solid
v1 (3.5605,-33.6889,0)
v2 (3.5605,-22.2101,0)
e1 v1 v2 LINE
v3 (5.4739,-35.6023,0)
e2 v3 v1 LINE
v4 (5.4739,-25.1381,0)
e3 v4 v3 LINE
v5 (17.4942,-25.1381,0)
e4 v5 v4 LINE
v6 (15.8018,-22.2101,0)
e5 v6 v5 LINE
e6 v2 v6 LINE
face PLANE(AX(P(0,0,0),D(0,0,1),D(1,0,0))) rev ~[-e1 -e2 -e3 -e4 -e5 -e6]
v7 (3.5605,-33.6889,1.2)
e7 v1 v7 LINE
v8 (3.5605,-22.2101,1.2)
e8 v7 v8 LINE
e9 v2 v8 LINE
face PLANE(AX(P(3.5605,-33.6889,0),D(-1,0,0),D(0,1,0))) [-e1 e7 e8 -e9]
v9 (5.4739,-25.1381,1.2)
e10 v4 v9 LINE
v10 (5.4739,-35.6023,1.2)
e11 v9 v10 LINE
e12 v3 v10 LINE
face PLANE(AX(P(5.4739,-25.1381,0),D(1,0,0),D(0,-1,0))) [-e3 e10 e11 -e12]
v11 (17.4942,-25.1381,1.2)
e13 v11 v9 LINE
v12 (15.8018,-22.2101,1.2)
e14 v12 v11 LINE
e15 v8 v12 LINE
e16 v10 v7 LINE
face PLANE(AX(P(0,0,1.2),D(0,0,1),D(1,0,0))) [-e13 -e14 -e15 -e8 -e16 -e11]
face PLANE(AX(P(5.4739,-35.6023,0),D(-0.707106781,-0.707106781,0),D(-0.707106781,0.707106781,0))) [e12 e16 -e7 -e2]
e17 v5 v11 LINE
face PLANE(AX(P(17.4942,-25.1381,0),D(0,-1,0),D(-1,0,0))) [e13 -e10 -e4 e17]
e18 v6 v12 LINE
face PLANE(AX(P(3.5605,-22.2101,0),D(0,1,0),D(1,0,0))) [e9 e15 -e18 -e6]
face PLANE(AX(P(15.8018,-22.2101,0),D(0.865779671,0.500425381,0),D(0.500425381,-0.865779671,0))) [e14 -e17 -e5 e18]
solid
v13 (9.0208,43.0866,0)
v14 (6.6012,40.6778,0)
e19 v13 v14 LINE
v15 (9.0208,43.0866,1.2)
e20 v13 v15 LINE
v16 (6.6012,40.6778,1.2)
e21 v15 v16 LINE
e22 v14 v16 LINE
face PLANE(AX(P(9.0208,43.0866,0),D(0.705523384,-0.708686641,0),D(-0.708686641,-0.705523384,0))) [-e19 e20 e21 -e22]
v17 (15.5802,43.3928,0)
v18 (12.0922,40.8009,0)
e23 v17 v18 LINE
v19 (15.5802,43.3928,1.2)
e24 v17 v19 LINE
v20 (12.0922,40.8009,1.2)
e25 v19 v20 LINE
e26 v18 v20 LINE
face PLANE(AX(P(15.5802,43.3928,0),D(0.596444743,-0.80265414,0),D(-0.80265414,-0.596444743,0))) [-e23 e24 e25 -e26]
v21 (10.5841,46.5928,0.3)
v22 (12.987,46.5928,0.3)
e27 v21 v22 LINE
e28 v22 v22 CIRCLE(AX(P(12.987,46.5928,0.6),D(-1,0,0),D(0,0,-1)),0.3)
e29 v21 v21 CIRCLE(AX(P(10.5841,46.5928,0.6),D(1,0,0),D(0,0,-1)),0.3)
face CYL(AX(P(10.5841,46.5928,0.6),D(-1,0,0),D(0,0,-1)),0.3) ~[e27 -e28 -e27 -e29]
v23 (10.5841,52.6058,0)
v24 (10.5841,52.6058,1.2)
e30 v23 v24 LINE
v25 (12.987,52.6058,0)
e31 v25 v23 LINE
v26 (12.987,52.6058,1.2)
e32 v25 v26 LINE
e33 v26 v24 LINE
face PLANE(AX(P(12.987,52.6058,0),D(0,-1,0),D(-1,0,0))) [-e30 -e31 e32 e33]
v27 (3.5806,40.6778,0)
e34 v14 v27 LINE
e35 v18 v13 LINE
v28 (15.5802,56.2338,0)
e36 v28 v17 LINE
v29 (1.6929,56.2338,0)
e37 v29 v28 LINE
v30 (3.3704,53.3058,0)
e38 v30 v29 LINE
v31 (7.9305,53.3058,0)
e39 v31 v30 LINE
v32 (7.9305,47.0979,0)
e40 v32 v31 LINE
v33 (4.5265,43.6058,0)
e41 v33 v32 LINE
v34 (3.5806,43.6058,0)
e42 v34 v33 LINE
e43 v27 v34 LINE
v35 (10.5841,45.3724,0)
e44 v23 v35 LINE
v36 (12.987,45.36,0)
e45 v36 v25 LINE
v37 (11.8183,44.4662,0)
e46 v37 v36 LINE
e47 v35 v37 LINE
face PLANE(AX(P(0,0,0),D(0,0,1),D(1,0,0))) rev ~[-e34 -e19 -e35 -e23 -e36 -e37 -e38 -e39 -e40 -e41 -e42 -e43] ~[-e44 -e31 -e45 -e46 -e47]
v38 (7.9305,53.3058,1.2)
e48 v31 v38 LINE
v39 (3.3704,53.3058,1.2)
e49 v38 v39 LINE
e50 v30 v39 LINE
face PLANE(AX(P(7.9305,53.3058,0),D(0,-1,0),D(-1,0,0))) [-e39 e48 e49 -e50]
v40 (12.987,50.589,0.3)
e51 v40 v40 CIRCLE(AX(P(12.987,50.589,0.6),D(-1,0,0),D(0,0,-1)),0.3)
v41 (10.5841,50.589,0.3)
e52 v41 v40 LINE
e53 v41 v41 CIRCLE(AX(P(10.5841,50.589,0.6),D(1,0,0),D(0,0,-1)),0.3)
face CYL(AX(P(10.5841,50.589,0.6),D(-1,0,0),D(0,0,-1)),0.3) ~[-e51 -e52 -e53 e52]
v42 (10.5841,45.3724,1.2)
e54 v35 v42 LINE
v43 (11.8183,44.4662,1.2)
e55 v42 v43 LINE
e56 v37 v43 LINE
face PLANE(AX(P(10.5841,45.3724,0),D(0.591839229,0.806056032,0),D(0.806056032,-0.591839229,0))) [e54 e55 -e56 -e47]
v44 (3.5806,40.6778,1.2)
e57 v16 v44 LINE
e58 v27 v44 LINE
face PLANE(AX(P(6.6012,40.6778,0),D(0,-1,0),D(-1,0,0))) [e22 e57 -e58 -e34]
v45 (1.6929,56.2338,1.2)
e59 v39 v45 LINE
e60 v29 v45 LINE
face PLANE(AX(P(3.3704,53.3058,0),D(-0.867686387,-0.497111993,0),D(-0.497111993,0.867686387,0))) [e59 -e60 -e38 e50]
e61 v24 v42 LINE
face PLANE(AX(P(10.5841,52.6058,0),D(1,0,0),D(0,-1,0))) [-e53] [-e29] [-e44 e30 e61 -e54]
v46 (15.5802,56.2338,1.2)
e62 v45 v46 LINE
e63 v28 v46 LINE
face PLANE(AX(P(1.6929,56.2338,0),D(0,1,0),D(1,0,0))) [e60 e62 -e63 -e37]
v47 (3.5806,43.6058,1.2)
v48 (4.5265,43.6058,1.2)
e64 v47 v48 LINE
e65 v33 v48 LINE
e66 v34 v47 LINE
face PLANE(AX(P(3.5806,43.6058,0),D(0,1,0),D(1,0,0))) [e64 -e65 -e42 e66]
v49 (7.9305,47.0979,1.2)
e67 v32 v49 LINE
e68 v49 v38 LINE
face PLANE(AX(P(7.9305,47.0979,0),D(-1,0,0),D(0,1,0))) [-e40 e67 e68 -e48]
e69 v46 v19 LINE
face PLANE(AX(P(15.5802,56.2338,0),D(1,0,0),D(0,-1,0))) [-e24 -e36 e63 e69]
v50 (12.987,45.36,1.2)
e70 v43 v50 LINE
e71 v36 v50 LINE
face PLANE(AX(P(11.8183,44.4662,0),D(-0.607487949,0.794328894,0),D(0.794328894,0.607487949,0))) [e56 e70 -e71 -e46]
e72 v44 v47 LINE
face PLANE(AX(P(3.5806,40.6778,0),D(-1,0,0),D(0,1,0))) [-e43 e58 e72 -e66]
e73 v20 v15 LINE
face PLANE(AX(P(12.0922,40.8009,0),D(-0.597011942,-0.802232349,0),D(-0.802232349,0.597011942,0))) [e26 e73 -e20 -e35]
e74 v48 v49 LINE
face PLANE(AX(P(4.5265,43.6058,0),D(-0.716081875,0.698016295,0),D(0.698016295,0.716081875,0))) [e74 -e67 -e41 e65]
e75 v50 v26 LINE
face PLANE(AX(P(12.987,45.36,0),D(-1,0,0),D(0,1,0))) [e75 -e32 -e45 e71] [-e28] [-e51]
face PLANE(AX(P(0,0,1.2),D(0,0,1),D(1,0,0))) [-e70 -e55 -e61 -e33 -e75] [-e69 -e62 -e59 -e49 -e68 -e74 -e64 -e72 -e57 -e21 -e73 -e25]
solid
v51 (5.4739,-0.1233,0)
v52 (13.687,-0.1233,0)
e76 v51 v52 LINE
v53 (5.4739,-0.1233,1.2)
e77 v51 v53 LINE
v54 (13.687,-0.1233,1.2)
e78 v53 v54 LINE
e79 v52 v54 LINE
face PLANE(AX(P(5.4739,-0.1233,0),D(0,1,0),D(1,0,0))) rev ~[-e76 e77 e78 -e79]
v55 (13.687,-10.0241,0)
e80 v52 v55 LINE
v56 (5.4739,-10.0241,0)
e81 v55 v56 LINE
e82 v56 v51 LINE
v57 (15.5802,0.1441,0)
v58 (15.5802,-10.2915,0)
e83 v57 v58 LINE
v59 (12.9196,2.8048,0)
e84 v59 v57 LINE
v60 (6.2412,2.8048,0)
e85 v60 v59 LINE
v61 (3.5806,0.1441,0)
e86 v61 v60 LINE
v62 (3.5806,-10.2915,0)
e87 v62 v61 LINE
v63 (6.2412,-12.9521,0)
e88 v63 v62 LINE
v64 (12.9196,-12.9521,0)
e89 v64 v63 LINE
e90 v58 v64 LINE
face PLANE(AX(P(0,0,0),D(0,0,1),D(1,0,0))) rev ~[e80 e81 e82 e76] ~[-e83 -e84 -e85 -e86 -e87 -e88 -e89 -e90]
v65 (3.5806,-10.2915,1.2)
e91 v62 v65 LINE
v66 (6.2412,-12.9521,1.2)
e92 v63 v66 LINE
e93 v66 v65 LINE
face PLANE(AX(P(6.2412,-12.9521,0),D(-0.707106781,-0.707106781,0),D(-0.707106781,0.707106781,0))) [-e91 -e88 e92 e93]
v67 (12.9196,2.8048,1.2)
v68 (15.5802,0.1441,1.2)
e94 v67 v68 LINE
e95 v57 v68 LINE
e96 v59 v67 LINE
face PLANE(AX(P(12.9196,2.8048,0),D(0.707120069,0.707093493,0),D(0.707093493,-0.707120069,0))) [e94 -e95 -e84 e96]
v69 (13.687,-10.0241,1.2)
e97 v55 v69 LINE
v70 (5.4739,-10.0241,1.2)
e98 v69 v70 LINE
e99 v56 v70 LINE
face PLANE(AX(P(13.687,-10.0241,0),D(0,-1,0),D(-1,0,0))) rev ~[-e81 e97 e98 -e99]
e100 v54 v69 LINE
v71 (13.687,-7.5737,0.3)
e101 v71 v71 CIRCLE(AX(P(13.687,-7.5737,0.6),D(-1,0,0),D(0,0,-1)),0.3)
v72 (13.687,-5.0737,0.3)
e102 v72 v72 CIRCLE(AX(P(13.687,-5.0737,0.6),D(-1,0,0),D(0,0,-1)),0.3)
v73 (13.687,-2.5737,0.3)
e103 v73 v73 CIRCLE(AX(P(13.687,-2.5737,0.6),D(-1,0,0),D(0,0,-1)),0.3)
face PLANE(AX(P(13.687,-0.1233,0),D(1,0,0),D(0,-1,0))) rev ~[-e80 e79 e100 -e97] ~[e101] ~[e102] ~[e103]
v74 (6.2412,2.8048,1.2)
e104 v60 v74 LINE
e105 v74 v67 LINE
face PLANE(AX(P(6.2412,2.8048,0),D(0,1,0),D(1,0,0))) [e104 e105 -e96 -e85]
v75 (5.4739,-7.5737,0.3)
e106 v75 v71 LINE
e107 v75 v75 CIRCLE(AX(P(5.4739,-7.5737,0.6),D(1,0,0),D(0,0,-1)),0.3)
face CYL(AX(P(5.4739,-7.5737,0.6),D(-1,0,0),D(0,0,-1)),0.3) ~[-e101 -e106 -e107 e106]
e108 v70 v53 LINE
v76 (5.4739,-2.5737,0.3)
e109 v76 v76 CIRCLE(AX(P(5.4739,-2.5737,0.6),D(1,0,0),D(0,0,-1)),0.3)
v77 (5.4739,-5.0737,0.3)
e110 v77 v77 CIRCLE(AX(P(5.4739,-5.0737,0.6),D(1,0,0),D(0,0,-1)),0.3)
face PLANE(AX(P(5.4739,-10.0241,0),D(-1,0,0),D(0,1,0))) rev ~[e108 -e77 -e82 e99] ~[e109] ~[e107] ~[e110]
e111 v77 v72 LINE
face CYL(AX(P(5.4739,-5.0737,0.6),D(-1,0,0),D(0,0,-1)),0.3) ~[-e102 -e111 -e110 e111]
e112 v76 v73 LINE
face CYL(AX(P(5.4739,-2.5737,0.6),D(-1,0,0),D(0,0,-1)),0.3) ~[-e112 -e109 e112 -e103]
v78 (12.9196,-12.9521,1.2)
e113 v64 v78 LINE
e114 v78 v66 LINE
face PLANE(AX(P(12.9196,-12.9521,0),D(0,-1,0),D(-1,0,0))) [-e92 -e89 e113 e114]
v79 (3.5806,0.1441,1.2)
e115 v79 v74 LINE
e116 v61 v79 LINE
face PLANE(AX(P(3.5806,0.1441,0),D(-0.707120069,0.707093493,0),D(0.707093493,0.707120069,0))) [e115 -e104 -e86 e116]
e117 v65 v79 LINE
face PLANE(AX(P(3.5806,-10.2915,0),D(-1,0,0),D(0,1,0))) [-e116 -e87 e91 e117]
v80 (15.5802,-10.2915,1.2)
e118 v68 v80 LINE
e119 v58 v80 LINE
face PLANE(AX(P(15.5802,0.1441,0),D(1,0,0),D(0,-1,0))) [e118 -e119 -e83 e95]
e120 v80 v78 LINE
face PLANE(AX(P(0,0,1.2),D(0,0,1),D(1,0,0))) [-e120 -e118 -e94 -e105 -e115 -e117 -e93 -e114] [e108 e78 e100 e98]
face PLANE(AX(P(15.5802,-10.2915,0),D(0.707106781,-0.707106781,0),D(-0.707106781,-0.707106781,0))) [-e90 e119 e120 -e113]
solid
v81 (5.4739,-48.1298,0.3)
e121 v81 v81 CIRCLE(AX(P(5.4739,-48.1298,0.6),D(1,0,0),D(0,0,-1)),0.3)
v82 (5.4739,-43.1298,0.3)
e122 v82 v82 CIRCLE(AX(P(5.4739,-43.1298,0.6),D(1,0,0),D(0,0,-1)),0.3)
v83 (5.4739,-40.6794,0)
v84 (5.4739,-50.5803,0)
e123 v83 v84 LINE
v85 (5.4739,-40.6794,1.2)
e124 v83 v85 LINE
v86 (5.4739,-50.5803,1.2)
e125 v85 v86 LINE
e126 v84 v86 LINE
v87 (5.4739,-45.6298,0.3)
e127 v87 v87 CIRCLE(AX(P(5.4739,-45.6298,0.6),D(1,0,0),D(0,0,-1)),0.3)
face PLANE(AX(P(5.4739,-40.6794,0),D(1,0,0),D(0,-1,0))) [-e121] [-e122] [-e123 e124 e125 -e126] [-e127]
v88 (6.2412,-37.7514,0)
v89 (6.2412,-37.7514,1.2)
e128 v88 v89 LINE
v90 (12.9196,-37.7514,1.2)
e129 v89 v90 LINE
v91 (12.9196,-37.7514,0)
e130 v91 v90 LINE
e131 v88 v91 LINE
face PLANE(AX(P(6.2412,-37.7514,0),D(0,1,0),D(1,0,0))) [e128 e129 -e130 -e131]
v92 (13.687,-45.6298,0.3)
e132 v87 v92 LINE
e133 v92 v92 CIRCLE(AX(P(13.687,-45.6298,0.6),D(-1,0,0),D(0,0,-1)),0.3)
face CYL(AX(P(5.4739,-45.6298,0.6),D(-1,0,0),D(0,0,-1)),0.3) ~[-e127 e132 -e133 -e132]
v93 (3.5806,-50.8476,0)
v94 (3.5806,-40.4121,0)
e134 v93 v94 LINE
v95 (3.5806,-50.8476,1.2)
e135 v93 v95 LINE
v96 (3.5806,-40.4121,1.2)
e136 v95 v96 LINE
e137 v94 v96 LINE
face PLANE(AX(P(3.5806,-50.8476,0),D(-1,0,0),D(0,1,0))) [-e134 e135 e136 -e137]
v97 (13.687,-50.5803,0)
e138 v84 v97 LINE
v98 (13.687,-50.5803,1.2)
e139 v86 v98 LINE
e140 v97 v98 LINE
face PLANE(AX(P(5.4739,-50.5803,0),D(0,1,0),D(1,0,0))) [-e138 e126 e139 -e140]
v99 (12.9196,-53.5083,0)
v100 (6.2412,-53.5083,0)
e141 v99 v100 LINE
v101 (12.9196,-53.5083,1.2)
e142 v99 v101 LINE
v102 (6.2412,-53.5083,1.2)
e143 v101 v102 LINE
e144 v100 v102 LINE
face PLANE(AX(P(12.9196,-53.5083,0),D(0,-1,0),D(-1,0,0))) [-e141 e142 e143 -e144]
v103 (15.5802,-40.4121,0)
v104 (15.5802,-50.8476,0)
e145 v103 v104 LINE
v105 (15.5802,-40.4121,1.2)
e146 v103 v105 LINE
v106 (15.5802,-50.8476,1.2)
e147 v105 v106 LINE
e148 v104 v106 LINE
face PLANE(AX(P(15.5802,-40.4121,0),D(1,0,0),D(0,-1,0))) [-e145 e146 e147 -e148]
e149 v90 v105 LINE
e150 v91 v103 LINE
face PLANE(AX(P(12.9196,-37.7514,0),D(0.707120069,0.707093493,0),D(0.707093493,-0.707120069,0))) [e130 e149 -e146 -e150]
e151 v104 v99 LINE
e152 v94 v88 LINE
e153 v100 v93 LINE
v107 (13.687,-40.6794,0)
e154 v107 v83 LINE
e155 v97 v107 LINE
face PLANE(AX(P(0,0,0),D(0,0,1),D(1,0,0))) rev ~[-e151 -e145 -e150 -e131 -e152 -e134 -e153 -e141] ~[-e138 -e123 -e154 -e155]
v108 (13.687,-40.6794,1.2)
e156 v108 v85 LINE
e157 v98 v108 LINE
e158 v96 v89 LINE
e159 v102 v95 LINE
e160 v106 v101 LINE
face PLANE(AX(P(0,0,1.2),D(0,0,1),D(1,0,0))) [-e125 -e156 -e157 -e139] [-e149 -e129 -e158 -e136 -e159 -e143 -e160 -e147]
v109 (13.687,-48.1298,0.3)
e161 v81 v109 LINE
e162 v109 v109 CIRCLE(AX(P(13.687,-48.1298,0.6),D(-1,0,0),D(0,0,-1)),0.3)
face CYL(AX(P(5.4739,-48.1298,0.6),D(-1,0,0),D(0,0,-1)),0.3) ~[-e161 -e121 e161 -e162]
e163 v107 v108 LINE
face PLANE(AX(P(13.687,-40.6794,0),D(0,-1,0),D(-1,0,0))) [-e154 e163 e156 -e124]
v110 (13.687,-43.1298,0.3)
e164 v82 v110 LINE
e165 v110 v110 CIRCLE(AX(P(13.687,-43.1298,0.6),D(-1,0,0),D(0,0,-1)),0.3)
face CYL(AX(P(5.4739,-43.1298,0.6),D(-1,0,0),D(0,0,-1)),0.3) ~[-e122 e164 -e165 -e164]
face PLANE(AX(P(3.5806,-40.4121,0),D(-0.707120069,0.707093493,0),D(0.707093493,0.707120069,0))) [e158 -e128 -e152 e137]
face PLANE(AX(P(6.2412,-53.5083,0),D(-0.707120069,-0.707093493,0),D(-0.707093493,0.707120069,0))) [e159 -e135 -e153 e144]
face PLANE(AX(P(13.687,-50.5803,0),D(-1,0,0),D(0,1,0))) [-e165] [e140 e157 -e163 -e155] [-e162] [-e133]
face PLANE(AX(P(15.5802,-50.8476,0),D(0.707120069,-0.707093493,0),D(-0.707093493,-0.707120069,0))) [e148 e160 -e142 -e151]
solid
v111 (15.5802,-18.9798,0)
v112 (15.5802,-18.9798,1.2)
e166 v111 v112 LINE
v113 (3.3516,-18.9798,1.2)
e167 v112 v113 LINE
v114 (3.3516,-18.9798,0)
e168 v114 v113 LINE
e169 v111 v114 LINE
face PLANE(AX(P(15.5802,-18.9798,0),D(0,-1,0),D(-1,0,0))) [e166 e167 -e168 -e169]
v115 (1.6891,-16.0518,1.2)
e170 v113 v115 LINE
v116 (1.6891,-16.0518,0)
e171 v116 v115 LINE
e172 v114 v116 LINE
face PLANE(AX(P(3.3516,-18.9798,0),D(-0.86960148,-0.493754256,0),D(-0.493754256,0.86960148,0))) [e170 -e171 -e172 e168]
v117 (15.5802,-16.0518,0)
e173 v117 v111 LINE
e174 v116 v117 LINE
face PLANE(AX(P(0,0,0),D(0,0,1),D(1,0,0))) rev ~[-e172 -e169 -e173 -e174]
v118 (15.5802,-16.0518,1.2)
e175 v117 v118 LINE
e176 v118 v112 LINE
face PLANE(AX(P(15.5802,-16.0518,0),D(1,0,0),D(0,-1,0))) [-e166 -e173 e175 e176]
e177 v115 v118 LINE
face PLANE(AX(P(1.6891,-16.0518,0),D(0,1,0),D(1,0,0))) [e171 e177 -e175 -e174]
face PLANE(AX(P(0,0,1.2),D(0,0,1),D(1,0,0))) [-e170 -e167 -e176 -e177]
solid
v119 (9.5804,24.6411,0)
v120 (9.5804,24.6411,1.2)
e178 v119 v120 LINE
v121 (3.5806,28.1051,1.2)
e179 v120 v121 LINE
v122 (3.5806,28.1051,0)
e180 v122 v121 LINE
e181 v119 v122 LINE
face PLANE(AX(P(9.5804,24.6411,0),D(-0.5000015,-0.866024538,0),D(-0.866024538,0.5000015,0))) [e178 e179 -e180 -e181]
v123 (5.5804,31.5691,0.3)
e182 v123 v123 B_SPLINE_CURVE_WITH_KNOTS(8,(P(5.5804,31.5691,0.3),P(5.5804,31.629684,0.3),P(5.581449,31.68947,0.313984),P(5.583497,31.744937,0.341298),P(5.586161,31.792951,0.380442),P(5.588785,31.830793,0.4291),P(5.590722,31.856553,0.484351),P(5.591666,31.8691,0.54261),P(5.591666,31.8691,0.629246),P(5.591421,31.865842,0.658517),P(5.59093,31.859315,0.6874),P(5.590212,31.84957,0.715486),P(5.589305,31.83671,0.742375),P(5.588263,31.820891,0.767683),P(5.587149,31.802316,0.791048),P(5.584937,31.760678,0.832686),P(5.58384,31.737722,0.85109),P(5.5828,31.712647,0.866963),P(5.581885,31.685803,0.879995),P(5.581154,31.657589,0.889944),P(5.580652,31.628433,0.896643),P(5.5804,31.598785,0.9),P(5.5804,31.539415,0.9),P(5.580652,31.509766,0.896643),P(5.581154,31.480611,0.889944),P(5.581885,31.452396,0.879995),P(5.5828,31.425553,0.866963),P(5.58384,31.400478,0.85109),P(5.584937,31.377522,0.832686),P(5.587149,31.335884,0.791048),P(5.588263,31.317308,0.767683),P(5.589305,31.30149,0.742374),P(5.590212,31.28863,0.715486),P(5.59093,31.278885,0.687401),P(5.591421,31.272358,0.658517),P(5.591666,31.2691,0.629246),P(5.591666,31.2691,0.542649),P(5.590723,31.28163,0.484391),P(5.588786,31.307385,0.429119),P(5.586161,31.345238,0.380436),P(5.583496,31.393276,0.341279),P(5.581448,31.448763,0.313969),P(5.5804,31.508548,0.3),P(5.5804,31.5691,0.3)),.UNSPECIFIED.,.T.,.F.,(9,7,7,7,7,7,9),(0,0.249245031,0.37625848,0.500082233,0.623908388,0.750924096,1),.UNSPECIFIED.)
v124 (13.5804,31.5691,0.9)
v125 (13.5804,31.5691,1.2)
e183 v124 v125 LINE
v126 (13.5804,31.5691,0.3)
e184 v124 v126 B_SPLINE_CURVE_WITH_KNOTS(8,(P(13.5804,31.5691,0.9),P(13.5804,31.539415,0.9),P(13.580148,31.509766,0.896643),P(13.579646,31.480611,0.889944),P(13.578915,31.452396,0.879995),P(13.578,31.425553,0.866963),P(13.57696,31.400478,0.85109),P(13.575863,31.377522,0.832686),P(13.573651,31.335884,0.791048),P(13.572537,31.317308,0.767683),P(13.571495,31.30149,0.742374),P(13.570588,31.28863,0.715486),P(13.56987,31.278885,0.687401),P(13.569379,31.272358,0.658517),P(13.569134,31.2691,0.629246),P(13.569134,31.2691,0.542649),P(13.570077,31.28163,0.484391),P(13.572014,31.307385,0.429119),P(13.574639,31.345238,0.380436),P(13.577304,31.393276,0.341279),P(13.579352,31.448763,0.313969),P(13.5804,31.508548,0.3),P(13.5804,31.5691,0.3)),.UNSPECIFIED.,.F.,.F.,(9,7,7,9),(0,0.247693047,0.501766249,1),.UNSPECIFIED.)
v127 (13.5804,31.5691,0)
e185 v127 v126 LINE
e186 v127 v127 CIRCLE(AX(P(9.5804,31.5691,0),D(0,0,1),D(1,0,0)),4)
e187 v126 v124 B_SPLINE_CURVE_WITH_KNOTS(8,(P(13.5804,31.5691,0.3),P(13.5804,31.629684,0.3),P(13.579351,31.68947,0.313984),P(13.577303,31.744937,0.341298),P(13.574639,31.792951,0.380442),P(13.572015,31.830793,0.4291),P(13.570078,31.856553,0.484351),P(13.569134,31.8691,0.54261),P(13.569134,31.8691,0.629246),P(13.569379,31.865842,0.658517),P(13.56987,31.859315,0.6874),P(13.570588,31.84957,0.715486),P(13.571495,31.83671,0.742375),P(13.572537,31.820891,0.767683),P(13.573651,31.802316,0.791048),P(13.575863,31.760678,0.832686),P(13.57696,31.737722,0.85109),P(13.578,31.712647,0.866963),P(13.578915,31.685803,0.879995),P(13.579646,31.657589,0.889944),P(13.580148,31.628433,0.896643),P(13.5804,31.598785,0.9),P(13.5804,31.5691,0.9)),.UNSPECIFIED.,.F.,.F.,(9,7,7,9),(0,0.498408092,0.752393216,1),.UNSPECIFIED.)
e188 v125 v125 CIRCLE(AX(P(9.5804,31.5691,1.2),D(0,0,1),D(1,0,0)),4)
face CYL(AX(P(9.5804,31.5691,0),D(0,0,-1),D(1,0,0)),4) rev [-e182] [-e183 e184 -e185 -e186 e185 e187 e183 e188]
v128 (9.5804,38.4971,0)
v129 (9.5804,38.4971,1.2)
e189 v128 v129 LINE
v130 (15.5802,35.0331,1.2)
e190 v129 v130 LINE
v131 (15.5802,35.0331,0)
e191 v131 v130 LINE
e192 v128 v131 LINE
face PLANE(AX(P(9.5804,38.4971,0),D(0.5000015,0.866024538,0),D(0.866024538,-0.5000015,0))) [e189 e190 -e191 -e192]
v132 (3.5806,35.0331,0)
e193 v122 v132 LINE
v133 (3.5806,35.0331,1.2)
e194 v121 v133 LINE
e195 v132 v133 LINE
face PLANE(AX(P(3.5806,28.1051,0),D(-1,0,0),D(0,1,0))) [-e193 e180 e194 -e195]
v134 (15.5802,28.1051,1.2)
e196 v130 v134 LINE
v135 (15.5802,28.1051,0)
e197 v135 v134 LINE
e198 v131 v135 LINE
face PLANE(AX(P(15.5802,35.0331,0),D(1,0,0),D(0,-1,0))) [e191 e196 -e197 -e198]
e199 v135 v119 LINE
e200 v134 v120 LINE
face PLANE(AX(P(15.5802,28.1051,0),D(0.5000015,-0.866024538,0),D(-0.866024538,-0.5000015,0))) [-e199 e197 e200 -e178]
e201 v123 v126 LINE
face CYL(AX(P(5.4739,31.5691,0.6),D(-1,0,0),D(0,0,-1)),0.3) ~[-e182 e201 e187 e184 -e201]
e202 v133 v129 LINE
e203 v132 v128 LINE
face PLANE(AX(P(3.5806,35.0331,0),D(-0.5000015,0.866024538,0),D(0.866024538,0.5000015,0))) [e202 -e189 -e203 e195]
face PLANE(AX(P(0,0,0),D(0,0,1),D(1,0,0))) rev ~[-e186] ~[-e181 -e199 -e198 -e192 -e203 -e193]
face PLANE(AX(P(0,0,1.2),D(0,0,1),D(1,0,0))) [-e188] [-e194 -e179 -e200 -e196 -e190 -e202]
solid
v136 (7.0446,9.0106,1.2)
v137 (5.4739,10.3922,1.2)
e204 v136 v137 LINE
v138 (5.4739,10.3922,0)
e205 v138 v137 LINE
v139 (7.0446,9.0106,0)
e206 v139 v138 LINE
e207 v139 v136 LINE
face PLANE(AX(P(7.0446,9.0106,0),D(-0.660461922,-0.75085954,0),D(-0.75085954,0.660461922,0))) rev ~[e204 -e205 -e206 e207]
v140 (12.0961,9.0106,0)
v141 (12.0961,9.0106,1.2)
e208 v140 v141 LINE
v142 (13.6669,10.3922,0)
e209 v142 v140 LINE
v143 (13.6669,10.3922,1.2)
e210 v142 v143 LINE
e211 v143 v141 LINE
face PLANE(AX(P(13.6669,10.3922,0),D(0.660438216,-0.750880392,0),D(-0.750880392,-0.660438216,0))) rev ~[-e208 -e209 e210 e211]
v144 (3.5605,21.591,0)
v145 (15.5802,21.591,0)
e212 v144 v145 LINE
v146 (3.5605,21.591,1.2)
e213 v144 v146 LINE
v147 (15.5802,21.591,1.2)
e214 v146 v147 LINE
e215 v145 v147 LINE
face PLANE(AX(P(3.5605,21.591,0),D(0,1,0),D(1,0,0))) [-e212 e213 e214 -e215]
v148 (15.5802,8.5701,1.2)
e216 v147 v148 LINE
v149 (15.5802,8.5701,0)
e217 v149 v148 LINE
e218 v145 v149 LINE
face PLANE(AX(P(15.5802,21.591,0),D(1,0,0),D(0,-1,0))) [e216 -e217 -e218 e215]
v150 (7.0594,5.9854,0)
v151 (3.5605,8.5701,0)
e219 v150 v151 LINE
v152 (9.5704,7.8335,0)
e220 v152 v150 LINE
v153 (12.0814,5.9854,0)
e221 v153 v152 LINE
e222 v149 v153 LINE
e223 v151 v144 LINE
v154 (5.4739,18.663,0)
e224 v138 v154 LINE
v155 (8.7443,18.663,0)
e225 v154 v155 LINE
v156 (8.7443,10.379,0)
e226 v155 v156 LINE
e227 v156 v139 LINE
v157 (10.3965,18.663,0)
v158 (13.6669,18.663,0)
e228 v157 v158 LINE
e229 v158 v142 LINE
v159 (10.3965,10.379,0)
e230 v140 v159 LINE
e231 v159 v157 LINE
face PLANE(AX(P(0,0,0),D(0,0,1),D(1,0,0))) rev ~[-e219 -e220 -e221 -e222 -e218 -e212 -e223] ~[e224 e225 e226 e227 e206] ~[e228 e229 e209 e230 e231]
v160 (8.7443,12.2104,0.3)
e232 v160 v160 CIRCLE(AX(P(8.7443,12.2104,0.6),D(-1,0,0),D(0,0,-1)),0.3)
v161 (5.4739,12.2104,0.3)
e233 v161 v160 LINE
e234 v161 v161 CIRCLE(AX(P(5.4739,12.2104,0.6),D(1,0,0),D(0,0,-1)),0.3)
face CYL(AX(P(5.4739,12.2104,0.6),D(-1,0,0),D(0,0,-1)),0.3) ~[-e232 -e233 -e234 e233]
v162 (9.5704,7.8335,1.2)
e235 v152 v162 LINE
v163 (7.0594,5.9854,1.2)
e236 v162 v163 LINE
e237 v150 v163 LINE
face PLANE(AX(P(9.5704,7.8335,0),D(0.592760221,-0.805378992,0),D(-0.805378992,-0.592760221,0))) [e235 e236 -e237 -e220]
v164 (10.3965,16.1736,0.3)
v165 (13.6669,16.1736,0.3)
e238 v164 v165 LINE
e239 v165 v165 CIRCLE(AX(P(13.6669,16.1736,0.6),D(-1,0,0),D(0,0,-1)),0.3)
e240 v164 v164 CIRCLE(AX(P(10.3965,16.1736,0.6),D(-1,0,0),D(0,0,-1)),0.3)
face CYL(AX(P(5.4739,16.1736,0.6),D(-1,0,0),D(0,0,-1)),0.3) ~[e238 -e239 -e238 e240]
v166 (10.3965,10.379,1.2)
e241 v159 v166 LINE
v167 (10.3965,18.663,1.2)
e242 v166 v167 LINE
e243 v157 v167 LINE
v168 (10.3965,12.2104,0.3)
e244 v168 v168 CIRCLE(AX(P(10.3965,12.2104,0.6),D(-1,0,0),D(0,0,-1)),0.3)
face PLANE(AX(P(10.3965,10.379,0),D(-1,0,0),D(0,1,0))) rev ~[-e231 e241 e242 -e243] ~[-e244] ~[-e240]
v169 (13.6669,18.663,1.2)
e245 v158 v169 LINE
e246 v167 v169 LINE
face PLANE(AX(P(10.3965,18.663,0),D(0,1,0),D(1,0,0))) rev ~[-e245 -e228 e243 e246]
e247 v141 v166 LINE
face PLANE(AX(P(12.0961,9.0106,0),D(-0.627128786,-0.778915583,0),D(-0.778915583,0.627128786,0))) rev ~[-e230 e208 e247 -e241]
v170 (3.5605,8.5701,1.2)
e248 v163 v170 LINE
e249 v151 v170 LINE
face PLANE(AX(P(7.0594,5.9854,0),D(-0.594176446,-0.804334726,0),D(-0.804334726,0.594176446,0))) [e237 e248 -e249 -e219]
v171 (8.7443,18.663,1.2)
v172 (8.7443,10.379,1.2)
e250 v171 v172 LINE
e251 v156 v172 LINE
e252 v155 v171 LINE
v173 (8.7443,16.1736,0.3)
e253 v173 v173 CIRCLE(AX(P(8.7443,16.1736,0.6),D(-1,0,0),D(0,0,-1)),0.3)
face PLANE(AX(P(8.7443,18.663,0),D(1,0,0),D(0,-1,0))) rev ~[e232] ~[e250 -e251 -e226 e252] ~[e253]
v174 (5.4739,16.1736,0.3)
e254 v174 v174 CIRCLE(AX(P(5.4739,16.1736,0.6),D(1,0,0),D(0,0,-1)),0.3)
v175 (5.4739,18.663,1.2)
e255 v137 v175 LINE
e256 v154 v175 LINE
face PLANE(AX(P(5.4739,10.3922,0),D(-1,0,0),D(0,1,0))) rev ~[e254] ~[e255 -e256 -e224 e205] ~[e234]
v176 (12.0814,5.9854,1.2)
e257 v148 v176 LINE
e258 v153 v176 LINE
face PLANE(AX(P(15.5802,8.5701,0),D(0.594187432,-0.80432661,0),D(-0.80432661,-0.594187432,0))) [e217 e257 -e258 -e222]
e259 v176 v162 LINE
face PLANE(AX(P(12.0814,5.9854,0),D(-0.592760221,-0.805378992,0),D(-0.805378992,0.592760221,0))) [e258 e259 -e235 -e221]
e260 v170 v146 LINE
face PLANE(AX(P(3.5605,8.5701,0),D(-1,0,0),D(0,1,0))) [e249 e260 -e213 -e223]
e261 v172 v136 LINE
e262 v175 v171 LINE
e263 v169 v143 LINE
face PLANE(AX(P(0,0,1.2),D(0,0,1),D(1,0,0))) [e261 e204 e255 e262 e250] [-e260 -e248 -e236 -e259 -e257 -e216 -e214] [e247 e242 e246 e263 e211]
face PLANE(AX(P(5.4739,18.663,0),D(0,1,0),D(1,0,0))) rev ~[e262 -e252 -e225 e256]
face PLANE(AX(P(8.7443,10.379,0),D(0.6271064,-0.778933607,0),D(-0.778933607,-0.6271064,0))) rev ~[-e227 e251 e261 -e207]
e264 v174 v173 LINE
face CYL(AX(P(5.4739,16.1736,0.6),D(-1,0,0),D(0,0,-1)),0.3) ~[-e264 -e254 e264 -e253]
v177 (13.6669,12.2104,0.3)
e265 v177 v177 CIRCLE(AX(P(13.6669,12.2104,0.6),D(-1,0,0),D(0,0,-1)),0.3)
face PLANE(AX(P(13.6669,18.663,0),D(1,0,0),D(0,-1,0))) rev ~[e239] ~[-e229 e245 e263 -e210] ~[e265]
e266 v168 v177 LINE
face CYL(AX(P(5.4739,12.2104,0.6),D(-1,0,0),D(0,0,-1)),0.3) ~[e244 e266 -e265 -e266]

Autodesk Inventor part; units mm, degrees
ref_plane "YZ Plane" through (0, 0, 0) normal (1, 0, 0) x (0, 1, 0)
ref_plane "XZ Plane" through (0, 0, 0) normal (0, 1, 0) x (-1, 0, 0)
ref_plane "XY Plane" through (0, 0, 0) normal (0, 0, 1) x (1, 0, 0)
sketch "Sketch1" plane through (0, 0, 0) normal (0, 0, 1) x (1, 0, 0)
  line L0 (13.187, 45.2611) -> (13.187, 52.8058) construction
  line L1 (11.8207, 44.2163) -> (13.187, 45.2611) construction
  line L2 (10.3841, 45.2712) -> (11.8207, 44.2163) construction
  line L3 (10.3841, 52.8058) -> (10.3841, 45.2712) construction
  line L4 (13.187, 52.8058) -> (10.3841, 52.8058) construction
  line L5 (3.0806, 40.1778) -> (3.0806, 44.1058) construction
  line L6 (6.8077, 40.1778) -> (3.0806, 40.1778) construction
  line L7 (9.0681, 42.4281) -> (6.8077, 40.1778) construction
  line L8 (12.0919, 40.1778) -> (9.0681, 42.4281) construction
  line L9 (16.0802, 43.1414) -> (12.0919, 40.1778) construction
  line L10 (16.0802, 56.7338) -> (16.0802, 43.1414) construction
  line L11 (0.8302, 56.7338) -> (16.0802, 56.7338) construction
  line L12 (3.0806, 52.8058) -> (0.8302, 56.7338) construction
  line L13 (7.4305, 52.8058) -> (3.0806, 52.8058) construction
  line L14 (7.4305, 47.3013) -> (7.4305, 52.8058) construction
  line L15 (4.3156, 44.1058) -> (7.4305, 47.3013) construction
  line L16 (3.0806, 44.1058) -> (4.3156, 44.1058) construction
  line L17 (3.0806, 27.8164) -> (3.0806, 35.3218) construction
  line L18 (9.5804, 24.0637) -> (3.0806, 27.8164) construction
  line L19 (16.0802, 27.8164) -> (9.5804, 24.0637) construction
  line L20 (16.0802, 35.3218) -> (16.0802, 27.8164) construction
  line L21 (9.5804, 39.0745) -> (16.0802, 35.3218) construction
  line L22 (3.0806, 35.3218) -> (9.5804, 39.0745) construction
  circle A0 centre (9.5804, 31.5691) radius 3.5 construction
  line L23 (13.1669, 10.6183) -> (13.1669, 18.163) construction
  line L24 (12.0819, 9.664) -> (13.1669, 10.6183) construction
  line L25 (10.8965, 10.6183) -> (12.0819, 9.664) construction
  line L26 (10.8965, 18.163) -> (10.8965, 10.6183) construction
  line L27 (13.1669, 18.163) -> (10.8965, 18.163) construction
  line L28 (8.2443, 10.6183) -> (8.2443, 18.163) construction
  line L29 (7.0588, 9.664) -> (8.2443, 10.6183) construction
  line L30 (5.9739, 10.6183) -> (7.0588, 9.664) construction
  line L31 (5.9739, 18.163) -> (5.9739, 10.6183) construction
  line L32 (8.2443, 18.163) -> (5.9739, 18.163) construction
  line L33 (7.0588, 5.3642) -> (3.0605, 8.3178) construction
  line L34 (9.5704, 7.2127) -> (7.0588, 5.3642) construction
  line L35 (12.0819, 5.3642) -> (9.5704, 7.2127) construction
  line L36 (16.0802, 8.3178) -> (12.0819, 5.3642) construction
  line L37 (16.0802, 22.091) -> (16.0802, 8.3178) construction
  line L38 (3.0605, 22.091) -> (16.0802, 22.091) construction
  line L39 (3.0605, 8.3178) -> (3.0605, 22.091) construction
  line L40 (13.187, -9.5241) -> (13.187, -0.6233) construction
  line L41 (5.9739, -9.5241) -> (13.187, -9.5241) construction
  line L42 (5.9739, -0.6233) -> (5.9739, -9.5241) construction
  line L43 (13.187, -0.6233) -> (5.9739, -0.6233) construction
  line L44 (6.0341, -13.4521) -> (3.0806, -10.4986) construction
  line L45 (13.1267, -13.4521) -> (6.0341, -13.4521) construction
  line L46 (16.0802, -10.4986) -> (13.1267, -13.4521) construction
  line L47 (16.0802, 0.3512) -> (16.0802, -10.4986) construction
  line L48 (13.1267, 3.3048) -> (16.0802, 0.3512) construction
  line L49 (6.0341, 3.3048) -> (13.1267, 3.3048) construction
  line L50 (3.0806, 0.3512) -> (6.0341, 3.3048) construction
  line L51 (3.0806, -10.4986) -> (3.0806, 0.3512) construction
  line L52 (3.0605, -19.4798) -> (0.8302, -15.5518) construction
  line L53 (16.0802, -19.4798) -> (3.0605, -19.4798) construction
  line L54 (16.0802, -15.5518) -> (16.0802, -19.4798) construction
  line L55 (0.8302, -15.5518) -> (16.0802, -15.5518) construction
  line L56 (5.9739, -36.8094) -> (3.0605, -33.896) construction
  line L57 (5.9739, -25.6381) -> (5.9739, -36.8094) construction
  line L58 (18.3607, -25.6381) -> (5.9739, -25.6381) construction
  line L59 (16.0903, -21.7101) -> (18.3607, -25.6381) construction
  line L60 (3.0605, -21.7101) -> (16.0903, -21.7101) construction
  line L61 (3.0605, -33.896) -> (3.0605, -21.7101) construction
  line L62 (13.187, -50.0803) -> (13.187, -41.1794) construction
  line L63 (5.9739, -50.0803) -> (13.187, -50.0803) construction
  line L64 (5.9739, -41.1794) -> (5.9739, -50.0803) construction
  line L65 (13.187, -41.1794) -> (5.9739, -41.1794) construction
  line L66 (6.0341, -54.0083) -> (3.0806, -51.0548) construction
  line L67 (13.1267, -54.0083) -> (6.0341, -54.0083) construction
  line L68 (16.0802, -51.0548) -> (13.1267, -54.0083) construction
  line L69 (16.0802, -40.2049) -> (16.0802, -51.0548) construction
  line L70 (13.1267, -37.2514) -> (16.0802, -40.2049) construction
  line L71 (6.0341, -37.2514) -> (13.1267, -37.2514) construction
  line L72 (3.0806, -40.2049) -> (6.0341, -37.2514) construction
  line L73 (3.0806, -51.0548) -> (3.0806, -40.2049) construction
  line L74 (7.2305, 52.6058) -> (2.9647, 52.6058)
  line L75 (2.9647, 52.6058) -> (0.4852, 56.9338)
  line L76 (0.4852, 56.9338) -> (16.2802, 56.9338)
  line L77 (16.2802, 56.9338) -> (16.2802, 43.0408)
  line L78 (16.2802, 43.0408) -> (12.0919, 39.9286)
  line L79 (12.0919, 39.9286) -> (9.087, 42.1647)
  line L80 (9.087, 42.1647) -> (6.8903, 39.9778)
  line L81 (6.8903, 39.9778) -> (2.8806, 39.9778)
  line L82 (2.8806, 39.9778) -> (2.8806, 44.3058)
  line L83 (2.8806, 44.3058) -> (4.2313, 44.3058)
  line L84 (4.2313, 44.3058) -> (7.2305, 47.3827)
  line L85 (7.2305, 47.3827) -> (7.2305, 52.6058)
  line L86 (11.8183, 44.4662) -> (12.987, 45.36)
  line L87 (12.987, 45.36) -> (12.987, 52.6058)
  line L88 (12.987, 52.6058) -> (10.5841, 52.6058)
  line L89 (10.5841, 52.6058) -> (10.5841, 45.3724)
  line L90 (10.5841, 45.3724) -> (11.8183, 44.4662)
  circle A1 centre (9.5804, 31.5691) radius 3.3
  line L91 (9.5804, 39.3054) -> (16.2802, 35.4373)
  line L92 (16.2802, 35.4373) -> (16.2802, 27.7009)
  line L93 (16.2802, 27.7009) -> (9.5804, 23.8328)
  line L94 (9.5804, 23.8328) -> (2.8806, 27.7009)
  line L95 (2.8806, 27.7009) -> (2.8806, 35.4373)
  line L96 (2.8806, 35.4373) -> (9.5804, 39.3054)
  line L97 (16.2802, 22.291) -> (16.2802, 8.2169)
  line L98 (16.2802, 8.2169) -> (12.0821, 5.1157)
  line L99 (12.0821, 5.1157) -> (9.5704, 6.9644)
  line L100 (9.5704, 6.9644) -> (7.0586, 5.1157)
  line L101 (7.0586, 5.1157) -> (2.8605, 8.2169)
  line L102 (2.8605, 8.2169) -> (2.8605, 22.291)
  line L103 (2.8605, 22.291) -> (16.2802, 22.291)
  line L104 (8.0443, 17.963) -> (8.0443, 10.7141)
  line L105 (8.0443, 10.7141) -> (7.0645, 9.9253)
  line L106 (7.0645, 9.9253) -> (6.1739, 10.7088)
  line L107 (6.1739, 10.7088) -> (6.1739, 17.963)
  line L108 (6.1739, 17.963) -> (8.0443, 17.963)
  line L109 (11.0965, 10.7141) -> (12.0762, 9.9253)
  line L110 (12.0762, 9.9253) -> (12.9669, 10.7088)
  line L111 (12.9669, 10.7088) -> (12.9669, 17.963)
  line L112 (12.9669, 17.963) -> (11.0965, 17.963)
  line L113 (11.0965, 17.963) -> (11.0965, 10.7141)
  line L114 (13.2095, 3.5048) -> (16.2802, 0.4341)
  line L115 (16.2802, 0.4341) -> (16.2802, -10.5814)
  line L116 (16.2802, -10.5814) -> (13.2095, -13.6521)
  line L117 (13.2095, -13.6521) -> (5.9513, -13.6521)
  line L118 (5.9513, -13.6521) -> (2.8806, -10.5814)
  line L119 (2.8806, -10.5814) -> (2.8806, 0.4341)
  line L120 (2.8806, 0.4341) -> (5.9513, 3.5048)
  line L121 (5.9513, 3.5048) -> (13.2095, 3.5048)
  line L122 (6.1739, -0.8233) -> (6.1739, -9.3241)
  line L123 (6.1739, -9.3241) -> (12.987, -9.3241)
  line L124 (12.987, -9.3241) -> (12.987, -0.8233)
  line L125 (12.987, -0.8233) -> (6.1739, -0.8233)
  line L126 (16.2802, -15.3518) -> (16.2802, -19.6798)
  line L127 (16.2802, -19.6798) -> (2.9441, -19.6798)
  line L128 (2.9441, -19.6798) -> (0.4867, -15.3518)
  line L129 (0.4867, -15.3518) -> (16.2802, -15.3518)
  line L130 (6.1739, -37.2922) -> (2.8605, -33.9788)
  line L131 (2.8605, -33.9788) -> (2.8605, -21.5101)
  line L132 (2.8605, -21.5101) -> (16.2057, -21.5101)
  line L133 (16.2057, -21.5101) -> (18.7073, -25.8381)
  line L134 (18.7073, -25.8381) -> (6.1739, -25.8381)
  line L135 (6.1739, -25.8381) -> (6.1739, -37.2922)
  line L136 (13.2095, -37.0514) -> (16.2802, -40.1221)
  line L137 (16.2802, -40.1221) -> (16.2802, -51.1376)
  line L138 (16.2802, -51.1376) -> (13.2095, -54.2083)
  line L139 (13.2095, -54.2083) -> (5.9513, -54.2083)
  line L140 (5.9513, -54.2083) -> (2.8806, -51.1376)
  line L141 (2.8806, -51.1376) -> (2.8806, -40.1221)
  line L142 (2.8806, -40.1221) -> (5.9513, -37.0514)
  line L143 (5.9513, -37.0514) -> (13.2095, -37.0514)
  line L144 (6.1739, -41.3794) -> (6.1739, -49.8803)
  line L145 (6.1739, -49.8803) -> (12.987, -49.8803)
  line L146 (12.987, -49.8803) -> (12.987, -41.3794)
  line L147 (12.987, -41.3794) -> (6.1739, -41.3794)
  line L148 (15.5802, 43.3928) -> (12.0922, 40.8009)
  line L149 (12.0922, 40.8009) -> (9.0208, 43.0866)
  line L150 (9.0208, 43.0866) -> (6.6012, 40.6778)
  line L151 (6.6012, 40.6778) -> (3.5806, 40.6778)
  line L152 (3.5806, 40.6778) -> (3.5806, 43.6058)
  line L153 (3.5806, 43.6058) -> (4.5265, 43.6058)
  line L154 (4.5265, 43.6058) -> (7.9305, 47.0979)
  line L155 (7.9305, 47.0979) -> (7.9305, 53.3058)
  line L156 (7.9305, 53.3058) -> (3.3704, 53.3058)
  line L157 (3.3704, 53.3058) -> (1.6929, 56.2338)
  line L158 (1.6929, 56.2338) -> (15.5802, 56.2338)
  line L159 (15.5802, 56.2338) -> (15.5802, 43.3928)
  line L160 (13.687, 53.3058) -> (13.687, 45.014)
  line L161 (13.687, 45.014) -> (11.8268, 43.5916)
  line L162 (11.8268, 43.5916) -> (9.8841, 45.018)
  line L163 (9.8841, 45.018) -> (9.8841, 53.3058)
  line L164 (9.8841, 53.3058) -> (13.687, 53.3058)
  line L165 (15.5802, 35.0331) -> (15.5802, 28.1051)
  line L166 (15.5802, 28.1051) -> (9.5804, 24.6411)
  line L167 (9.5804, 24.6411) -> (3.5806, 28.1051)
  line L168 (3.5806, 28.1051) -> (3.5806, 35.0331)
  line L169 (3.5806, 35.0331) -> (9.5804, 38.4971)
  line L170 (9.5804, 38.4971) -> (15.5802, 35.0331)
  circle A2 centre (9.5804, 31.5691) radius 4
  line L171 (13.6669, 18.663) -> (13.6669, 10.3922)
  line L172 (13.6669, 10.3922) -> (12.0961, 9.0106)
  line L173 (12.0961, 9.0106) -> (10.3965, 10.379)
  line L174 (10.3965, 10.379) -> (10.3965, 18.663)
  line L175 (10.3965, 18.663) -> (13.6669, 18.663)
  line L176 (8.7443, 18.663) -> (8.7443, 10.379)
  line L177 (8.7443, 10.379) -> (7.0446, 9.0106)
  line L178 (7.0446, 9.0106) -> (5.4739, 10.3922)
  line L179 (5.4739, 10.3922) -> (5.4739, 18.663)
  line L180 (5.4739, 18.663) -> (8.7443, 18.663)
  line L181 (15.5802, 8.5701) -> (12.0814, 5.9854)
  line L182 (12.0814, 5.9854) -> (9.5704, 7.8335)
  line L183 (9.5704, 7.8335) -> (7.0594, 5.9854)
  line L184 (7.0594, 5.9854) -> (3.5605, 8.5701)
  line L185 (3.5605, 8.5701) -> (3.5605, 21.591)
  line L186 (3.5605, 21.591) -> (15.5802, 21.591)
  line L187 (15.5802, 21.591) -> (15.5802, 8.5701)
  line L188 (13.687, -0.1233) -> (13.687, -10.0241)
  line L189 (13.687, -10.0241) -> (5.4739, -10.0241)
  line L190 (5.4739, -10.0241) -> (5.4739, -0.1233)
  line L191 (5.4739, -0.1233) -> (13.687, -0.1233)
  line L192 (15.5802, -10.2915) -> (12.9196, -12.9521)
  line L193 (12.9196, -12.9521) -> (6.2412, -12.9521)
  line L194 (6.2412, -12.9521) -> (3.5806, -10.2915)
  line L195 (3.5806, -10.2915) -> (3.5806, 0.1441)
  line L196 (3.5806, 0.1441) -> (6.2412, 2.8048)
  line L197 (6.2412, 2.8048) -> (12.9196, 2.8048)
  line L198 (12.9196, 2.8048) -> (15.5802, 0.1441)
  line L199 (15.5802, 0.1441) -> (15.5802, -10.2915)
  line L200 (15.5802, -18.9798) -> (3.3516, -18.9798)
  line L201 (3.3516, -18.9798) -> (1.6891, -16.0518)
  line L202 (1.6891, -16.0518) -> (15.5802, -16.0518)
  line L203 (15.5802, -16.0518) -> (15.5802, -18.9798)
  line L204 (17.4942, -25.1381) -> (5.4739, -25.1381)
  line L205 (5.4739, -25.1381) -> (5.4739, -35.6023)
  line L206 (5.4739, -35.6023) -> (3.5605, -33.6889)
  line L207 (3.5605, -33.6889) -> (3.5605, -22.2101)
  line L208 (3.5605, -22.2101) -> (15.8018, -22.2101)
  line L209 (15.8018, -22.2101) -> (17.4942, -25.1381)
  line L210 (12.9196, -37.7514) -> (15.5802, -40.4121)
  line L211 (15.5802, -40.4121) -> (15.5802, -50.8476)
  line L212 (15.5802, -50.8476) -> (12.9196, -53.5083)
  line L213 (12.9196, -53.5083) -> (6.2412, -53.5083)
  line L214 (6.2412, -53.5083) -> (3.5806, -50.8476)
  line L215 (3.5806, -50.8476) -> (3.5806, -40.4121)
  line L216 (3.5806, -40.4121) -> (6.2412, -37.7514)
  line L217 (6.2412, -37.7514) -> (12.9196, -37.7514)
  line L218 (5.4739, -40.6794) -> (5.4739, -50.5803)
  line L219 (5.4739, -50.5803) -> (13.687, -50.5803)
  line L220 (13.687, -50.5803) -> (13.687, -40.6794)
  line L221 (13.687, -40.6794) -> (5.4739, -40.6794)
  point P0 (0, 0)
  point P1 (6.1739, -37.0514)
  point P2 (5.9422, -37.0605)
extrude "Extrusion1" add sketch "Sketch1" along normal blind 1.2 contours L148 L149 L150 L151 L152 L153 L154 L155 L156 L157 L158 L159 | L160 L161 L162 L163 L164 | L165 L166 L167 L168 L169 L170 | L181 L182 L183 L184 L185 L186 L187 | L192 L193 L194 L195 L196 L197 L198 L199 | L200 L201 L202 L203 | L204 L205 L206 L207 L208 L209 | L210 L211 L212 L213 L214 L215 L216 L217
sketch "Sketch2" plane through (5.4739, -9.3241, 0) normal (1, 0, 0) x (0, 0, -1)
  line L0 (-0.6, 8.5009) -> (-0.6, 0)
  line L1 (-0.6, 4.2504) -> (0, 4.2504)
  line L2 (0, 9.7582) -> (0, -1.2573)
  circle A0 centre (-0.6, 6.7504) radius 0.3
  circle A1 centre (-0.6, 4.2504) radius 0.3
  circle A2 centre (-0.6, 1.7504) radius 0.3
  line L3 (0, -40.5562) -> (0, -32.0553)
  line L4 (0, -32.0553) -> (-1.2, -32.0553)
  line L5 (-1.2, -40.5562) -> (-1.2, -32.0553)
  line L6 (0, -40.5562) -> (-1.2, -40.5562)
  circle A3 centre (-0.6, -33.8057) radius 0.3
  circle A4 centre (-0.6, -36.3057) radius 0.3
  circle A5 centre (-0.6, -38.8057) radius 0.3
  point P0 (0, 9.3241)
  dimension "d15" = 2.5
  dimension "d16" = 0.6
  dimension "d17" = 0.6
  dimension "d18" = 0.6
  dimension "d19" = 2.5
  dimension "d20" = 2.5
  dimension "d21" = 0.6
  dimension "d22" = 0.6
  dimension "d23" = 0.6
extrude "Extrusion2" add sketch "Sketch2" along normal blind 9 contours A0 L0 | A2 L0 | L0 A2 | A1 L1 L0 | L0 A1 | L0 A0 | L1 A1 L0 | A3 | A4 | A5
sketch "Sketch3" plane through (10.5841, 45.3724, 0) normal (1, 0, 0) x (0, 0, -1)
  line L0 (0, 0) -> (0, 7.2333) projected
  line L1 (0, 7.2333) -> (-1.2, 7.2333) projected
  line L2 (-1.2, 0) -> (-1.2, 7.2333) projected
  line L3 (0, 0) -> (-1.2, 0) projected
  line L4 (0, -0.9062) -> (0, 0) projected
  line L5 (0, 0) -> (-1.2, 0) projected
  line L6 (-1.2, -0.9062) -> (-1.2, 0) projected
  line L7 (0, -0.9062) -> (-1.2, -0.9062) projected
  circle A0 centre (-0.6, 5.2166) radius 0.3
  circle A1 centre (-0.6, 1.2204) radius 0.3
  point P0 (0, -45.3724)
  dimension "d26" = 0.6
  dimension "d27" = 0.6
extrude "Extrusion3" add sketch "Sketch3" along normal blind 3 contours A0 | A1
sketch "Sketch4" plane through (5.4739, 10.7088, 0) normal (1, 0, 0) x (0, 0, -1)
  line L0 (0, 0) -> (0, 7.2542)
  line L1 (0, 7.2542) -> (-1.2, 7.2542)
  line L2 (-1.2, 0) -> (-1.2, 7.2542)
  line L3 (0, 0) -> (-1.2, 0)
  line L4 (0, -0.7835) -> (0, 0)
  line L5 (0, 0) -> (-1.2, 0)
  line L6 (-1.2, -0.7835) -> (-1.2, 0)
  line L7 (0, -0.7835) -> (-1.2, -0.7835)
  circle A0 centre (-0.6, 5.4648) radius 0.3
  circle A1 centre (-0.6, 1.5016) radius 0.3
  line L8 (-1.2, 17.5603) -> (-1.2, 24.1603)
  line L9 (0, 17.5603) -> (0, 24.1603)
  circle A2 centre (-0.6, 20.8603) radius 0.3
  point P0 (0, -10.7088)
  dimension "d30" = 0.6
  dimension "d31" = 0.6
  dimension "d32" = 0.6
extrude "Extrusion4" add sketch "Sketch4" along normal blind 9.4 contours A0 | A1 | A2
equation "\"d2\" = d3"
equation "\"d3\" = d5"
equation "\"d4\" = d6"
equation "\"d6\" = d7"
equation "\"d7\" = d10"
equation "\"d8\" = d7"
equation "\"d9\" = d7"
equation "\"d10\" = d11"
equation "\"d11\" = d12"
equation "\"d12\" = d13"
equation "\"d13\" = d14"
equation "\"d35\" = d37"
equation "\"d36\" = d35"
equation "\"d37\" = d38"
equation "\"d39\" = d41"
equation "\"d41\" = d40"
equation "\"d42\" = d43"
equation "\"d43\" = d40"
equation "\"d44\" = d42"
equation "\"d45\" = d44"
equation "\"d46\" = d45"
equation "\"d47\" = d46"
equation "\"d5\" = 0.2"
equation "\"d14\" = 0.2"
equation "\"d38\" = 0.5"
equation "\"d40\" = 0.5"
properties part number "roboilo"
